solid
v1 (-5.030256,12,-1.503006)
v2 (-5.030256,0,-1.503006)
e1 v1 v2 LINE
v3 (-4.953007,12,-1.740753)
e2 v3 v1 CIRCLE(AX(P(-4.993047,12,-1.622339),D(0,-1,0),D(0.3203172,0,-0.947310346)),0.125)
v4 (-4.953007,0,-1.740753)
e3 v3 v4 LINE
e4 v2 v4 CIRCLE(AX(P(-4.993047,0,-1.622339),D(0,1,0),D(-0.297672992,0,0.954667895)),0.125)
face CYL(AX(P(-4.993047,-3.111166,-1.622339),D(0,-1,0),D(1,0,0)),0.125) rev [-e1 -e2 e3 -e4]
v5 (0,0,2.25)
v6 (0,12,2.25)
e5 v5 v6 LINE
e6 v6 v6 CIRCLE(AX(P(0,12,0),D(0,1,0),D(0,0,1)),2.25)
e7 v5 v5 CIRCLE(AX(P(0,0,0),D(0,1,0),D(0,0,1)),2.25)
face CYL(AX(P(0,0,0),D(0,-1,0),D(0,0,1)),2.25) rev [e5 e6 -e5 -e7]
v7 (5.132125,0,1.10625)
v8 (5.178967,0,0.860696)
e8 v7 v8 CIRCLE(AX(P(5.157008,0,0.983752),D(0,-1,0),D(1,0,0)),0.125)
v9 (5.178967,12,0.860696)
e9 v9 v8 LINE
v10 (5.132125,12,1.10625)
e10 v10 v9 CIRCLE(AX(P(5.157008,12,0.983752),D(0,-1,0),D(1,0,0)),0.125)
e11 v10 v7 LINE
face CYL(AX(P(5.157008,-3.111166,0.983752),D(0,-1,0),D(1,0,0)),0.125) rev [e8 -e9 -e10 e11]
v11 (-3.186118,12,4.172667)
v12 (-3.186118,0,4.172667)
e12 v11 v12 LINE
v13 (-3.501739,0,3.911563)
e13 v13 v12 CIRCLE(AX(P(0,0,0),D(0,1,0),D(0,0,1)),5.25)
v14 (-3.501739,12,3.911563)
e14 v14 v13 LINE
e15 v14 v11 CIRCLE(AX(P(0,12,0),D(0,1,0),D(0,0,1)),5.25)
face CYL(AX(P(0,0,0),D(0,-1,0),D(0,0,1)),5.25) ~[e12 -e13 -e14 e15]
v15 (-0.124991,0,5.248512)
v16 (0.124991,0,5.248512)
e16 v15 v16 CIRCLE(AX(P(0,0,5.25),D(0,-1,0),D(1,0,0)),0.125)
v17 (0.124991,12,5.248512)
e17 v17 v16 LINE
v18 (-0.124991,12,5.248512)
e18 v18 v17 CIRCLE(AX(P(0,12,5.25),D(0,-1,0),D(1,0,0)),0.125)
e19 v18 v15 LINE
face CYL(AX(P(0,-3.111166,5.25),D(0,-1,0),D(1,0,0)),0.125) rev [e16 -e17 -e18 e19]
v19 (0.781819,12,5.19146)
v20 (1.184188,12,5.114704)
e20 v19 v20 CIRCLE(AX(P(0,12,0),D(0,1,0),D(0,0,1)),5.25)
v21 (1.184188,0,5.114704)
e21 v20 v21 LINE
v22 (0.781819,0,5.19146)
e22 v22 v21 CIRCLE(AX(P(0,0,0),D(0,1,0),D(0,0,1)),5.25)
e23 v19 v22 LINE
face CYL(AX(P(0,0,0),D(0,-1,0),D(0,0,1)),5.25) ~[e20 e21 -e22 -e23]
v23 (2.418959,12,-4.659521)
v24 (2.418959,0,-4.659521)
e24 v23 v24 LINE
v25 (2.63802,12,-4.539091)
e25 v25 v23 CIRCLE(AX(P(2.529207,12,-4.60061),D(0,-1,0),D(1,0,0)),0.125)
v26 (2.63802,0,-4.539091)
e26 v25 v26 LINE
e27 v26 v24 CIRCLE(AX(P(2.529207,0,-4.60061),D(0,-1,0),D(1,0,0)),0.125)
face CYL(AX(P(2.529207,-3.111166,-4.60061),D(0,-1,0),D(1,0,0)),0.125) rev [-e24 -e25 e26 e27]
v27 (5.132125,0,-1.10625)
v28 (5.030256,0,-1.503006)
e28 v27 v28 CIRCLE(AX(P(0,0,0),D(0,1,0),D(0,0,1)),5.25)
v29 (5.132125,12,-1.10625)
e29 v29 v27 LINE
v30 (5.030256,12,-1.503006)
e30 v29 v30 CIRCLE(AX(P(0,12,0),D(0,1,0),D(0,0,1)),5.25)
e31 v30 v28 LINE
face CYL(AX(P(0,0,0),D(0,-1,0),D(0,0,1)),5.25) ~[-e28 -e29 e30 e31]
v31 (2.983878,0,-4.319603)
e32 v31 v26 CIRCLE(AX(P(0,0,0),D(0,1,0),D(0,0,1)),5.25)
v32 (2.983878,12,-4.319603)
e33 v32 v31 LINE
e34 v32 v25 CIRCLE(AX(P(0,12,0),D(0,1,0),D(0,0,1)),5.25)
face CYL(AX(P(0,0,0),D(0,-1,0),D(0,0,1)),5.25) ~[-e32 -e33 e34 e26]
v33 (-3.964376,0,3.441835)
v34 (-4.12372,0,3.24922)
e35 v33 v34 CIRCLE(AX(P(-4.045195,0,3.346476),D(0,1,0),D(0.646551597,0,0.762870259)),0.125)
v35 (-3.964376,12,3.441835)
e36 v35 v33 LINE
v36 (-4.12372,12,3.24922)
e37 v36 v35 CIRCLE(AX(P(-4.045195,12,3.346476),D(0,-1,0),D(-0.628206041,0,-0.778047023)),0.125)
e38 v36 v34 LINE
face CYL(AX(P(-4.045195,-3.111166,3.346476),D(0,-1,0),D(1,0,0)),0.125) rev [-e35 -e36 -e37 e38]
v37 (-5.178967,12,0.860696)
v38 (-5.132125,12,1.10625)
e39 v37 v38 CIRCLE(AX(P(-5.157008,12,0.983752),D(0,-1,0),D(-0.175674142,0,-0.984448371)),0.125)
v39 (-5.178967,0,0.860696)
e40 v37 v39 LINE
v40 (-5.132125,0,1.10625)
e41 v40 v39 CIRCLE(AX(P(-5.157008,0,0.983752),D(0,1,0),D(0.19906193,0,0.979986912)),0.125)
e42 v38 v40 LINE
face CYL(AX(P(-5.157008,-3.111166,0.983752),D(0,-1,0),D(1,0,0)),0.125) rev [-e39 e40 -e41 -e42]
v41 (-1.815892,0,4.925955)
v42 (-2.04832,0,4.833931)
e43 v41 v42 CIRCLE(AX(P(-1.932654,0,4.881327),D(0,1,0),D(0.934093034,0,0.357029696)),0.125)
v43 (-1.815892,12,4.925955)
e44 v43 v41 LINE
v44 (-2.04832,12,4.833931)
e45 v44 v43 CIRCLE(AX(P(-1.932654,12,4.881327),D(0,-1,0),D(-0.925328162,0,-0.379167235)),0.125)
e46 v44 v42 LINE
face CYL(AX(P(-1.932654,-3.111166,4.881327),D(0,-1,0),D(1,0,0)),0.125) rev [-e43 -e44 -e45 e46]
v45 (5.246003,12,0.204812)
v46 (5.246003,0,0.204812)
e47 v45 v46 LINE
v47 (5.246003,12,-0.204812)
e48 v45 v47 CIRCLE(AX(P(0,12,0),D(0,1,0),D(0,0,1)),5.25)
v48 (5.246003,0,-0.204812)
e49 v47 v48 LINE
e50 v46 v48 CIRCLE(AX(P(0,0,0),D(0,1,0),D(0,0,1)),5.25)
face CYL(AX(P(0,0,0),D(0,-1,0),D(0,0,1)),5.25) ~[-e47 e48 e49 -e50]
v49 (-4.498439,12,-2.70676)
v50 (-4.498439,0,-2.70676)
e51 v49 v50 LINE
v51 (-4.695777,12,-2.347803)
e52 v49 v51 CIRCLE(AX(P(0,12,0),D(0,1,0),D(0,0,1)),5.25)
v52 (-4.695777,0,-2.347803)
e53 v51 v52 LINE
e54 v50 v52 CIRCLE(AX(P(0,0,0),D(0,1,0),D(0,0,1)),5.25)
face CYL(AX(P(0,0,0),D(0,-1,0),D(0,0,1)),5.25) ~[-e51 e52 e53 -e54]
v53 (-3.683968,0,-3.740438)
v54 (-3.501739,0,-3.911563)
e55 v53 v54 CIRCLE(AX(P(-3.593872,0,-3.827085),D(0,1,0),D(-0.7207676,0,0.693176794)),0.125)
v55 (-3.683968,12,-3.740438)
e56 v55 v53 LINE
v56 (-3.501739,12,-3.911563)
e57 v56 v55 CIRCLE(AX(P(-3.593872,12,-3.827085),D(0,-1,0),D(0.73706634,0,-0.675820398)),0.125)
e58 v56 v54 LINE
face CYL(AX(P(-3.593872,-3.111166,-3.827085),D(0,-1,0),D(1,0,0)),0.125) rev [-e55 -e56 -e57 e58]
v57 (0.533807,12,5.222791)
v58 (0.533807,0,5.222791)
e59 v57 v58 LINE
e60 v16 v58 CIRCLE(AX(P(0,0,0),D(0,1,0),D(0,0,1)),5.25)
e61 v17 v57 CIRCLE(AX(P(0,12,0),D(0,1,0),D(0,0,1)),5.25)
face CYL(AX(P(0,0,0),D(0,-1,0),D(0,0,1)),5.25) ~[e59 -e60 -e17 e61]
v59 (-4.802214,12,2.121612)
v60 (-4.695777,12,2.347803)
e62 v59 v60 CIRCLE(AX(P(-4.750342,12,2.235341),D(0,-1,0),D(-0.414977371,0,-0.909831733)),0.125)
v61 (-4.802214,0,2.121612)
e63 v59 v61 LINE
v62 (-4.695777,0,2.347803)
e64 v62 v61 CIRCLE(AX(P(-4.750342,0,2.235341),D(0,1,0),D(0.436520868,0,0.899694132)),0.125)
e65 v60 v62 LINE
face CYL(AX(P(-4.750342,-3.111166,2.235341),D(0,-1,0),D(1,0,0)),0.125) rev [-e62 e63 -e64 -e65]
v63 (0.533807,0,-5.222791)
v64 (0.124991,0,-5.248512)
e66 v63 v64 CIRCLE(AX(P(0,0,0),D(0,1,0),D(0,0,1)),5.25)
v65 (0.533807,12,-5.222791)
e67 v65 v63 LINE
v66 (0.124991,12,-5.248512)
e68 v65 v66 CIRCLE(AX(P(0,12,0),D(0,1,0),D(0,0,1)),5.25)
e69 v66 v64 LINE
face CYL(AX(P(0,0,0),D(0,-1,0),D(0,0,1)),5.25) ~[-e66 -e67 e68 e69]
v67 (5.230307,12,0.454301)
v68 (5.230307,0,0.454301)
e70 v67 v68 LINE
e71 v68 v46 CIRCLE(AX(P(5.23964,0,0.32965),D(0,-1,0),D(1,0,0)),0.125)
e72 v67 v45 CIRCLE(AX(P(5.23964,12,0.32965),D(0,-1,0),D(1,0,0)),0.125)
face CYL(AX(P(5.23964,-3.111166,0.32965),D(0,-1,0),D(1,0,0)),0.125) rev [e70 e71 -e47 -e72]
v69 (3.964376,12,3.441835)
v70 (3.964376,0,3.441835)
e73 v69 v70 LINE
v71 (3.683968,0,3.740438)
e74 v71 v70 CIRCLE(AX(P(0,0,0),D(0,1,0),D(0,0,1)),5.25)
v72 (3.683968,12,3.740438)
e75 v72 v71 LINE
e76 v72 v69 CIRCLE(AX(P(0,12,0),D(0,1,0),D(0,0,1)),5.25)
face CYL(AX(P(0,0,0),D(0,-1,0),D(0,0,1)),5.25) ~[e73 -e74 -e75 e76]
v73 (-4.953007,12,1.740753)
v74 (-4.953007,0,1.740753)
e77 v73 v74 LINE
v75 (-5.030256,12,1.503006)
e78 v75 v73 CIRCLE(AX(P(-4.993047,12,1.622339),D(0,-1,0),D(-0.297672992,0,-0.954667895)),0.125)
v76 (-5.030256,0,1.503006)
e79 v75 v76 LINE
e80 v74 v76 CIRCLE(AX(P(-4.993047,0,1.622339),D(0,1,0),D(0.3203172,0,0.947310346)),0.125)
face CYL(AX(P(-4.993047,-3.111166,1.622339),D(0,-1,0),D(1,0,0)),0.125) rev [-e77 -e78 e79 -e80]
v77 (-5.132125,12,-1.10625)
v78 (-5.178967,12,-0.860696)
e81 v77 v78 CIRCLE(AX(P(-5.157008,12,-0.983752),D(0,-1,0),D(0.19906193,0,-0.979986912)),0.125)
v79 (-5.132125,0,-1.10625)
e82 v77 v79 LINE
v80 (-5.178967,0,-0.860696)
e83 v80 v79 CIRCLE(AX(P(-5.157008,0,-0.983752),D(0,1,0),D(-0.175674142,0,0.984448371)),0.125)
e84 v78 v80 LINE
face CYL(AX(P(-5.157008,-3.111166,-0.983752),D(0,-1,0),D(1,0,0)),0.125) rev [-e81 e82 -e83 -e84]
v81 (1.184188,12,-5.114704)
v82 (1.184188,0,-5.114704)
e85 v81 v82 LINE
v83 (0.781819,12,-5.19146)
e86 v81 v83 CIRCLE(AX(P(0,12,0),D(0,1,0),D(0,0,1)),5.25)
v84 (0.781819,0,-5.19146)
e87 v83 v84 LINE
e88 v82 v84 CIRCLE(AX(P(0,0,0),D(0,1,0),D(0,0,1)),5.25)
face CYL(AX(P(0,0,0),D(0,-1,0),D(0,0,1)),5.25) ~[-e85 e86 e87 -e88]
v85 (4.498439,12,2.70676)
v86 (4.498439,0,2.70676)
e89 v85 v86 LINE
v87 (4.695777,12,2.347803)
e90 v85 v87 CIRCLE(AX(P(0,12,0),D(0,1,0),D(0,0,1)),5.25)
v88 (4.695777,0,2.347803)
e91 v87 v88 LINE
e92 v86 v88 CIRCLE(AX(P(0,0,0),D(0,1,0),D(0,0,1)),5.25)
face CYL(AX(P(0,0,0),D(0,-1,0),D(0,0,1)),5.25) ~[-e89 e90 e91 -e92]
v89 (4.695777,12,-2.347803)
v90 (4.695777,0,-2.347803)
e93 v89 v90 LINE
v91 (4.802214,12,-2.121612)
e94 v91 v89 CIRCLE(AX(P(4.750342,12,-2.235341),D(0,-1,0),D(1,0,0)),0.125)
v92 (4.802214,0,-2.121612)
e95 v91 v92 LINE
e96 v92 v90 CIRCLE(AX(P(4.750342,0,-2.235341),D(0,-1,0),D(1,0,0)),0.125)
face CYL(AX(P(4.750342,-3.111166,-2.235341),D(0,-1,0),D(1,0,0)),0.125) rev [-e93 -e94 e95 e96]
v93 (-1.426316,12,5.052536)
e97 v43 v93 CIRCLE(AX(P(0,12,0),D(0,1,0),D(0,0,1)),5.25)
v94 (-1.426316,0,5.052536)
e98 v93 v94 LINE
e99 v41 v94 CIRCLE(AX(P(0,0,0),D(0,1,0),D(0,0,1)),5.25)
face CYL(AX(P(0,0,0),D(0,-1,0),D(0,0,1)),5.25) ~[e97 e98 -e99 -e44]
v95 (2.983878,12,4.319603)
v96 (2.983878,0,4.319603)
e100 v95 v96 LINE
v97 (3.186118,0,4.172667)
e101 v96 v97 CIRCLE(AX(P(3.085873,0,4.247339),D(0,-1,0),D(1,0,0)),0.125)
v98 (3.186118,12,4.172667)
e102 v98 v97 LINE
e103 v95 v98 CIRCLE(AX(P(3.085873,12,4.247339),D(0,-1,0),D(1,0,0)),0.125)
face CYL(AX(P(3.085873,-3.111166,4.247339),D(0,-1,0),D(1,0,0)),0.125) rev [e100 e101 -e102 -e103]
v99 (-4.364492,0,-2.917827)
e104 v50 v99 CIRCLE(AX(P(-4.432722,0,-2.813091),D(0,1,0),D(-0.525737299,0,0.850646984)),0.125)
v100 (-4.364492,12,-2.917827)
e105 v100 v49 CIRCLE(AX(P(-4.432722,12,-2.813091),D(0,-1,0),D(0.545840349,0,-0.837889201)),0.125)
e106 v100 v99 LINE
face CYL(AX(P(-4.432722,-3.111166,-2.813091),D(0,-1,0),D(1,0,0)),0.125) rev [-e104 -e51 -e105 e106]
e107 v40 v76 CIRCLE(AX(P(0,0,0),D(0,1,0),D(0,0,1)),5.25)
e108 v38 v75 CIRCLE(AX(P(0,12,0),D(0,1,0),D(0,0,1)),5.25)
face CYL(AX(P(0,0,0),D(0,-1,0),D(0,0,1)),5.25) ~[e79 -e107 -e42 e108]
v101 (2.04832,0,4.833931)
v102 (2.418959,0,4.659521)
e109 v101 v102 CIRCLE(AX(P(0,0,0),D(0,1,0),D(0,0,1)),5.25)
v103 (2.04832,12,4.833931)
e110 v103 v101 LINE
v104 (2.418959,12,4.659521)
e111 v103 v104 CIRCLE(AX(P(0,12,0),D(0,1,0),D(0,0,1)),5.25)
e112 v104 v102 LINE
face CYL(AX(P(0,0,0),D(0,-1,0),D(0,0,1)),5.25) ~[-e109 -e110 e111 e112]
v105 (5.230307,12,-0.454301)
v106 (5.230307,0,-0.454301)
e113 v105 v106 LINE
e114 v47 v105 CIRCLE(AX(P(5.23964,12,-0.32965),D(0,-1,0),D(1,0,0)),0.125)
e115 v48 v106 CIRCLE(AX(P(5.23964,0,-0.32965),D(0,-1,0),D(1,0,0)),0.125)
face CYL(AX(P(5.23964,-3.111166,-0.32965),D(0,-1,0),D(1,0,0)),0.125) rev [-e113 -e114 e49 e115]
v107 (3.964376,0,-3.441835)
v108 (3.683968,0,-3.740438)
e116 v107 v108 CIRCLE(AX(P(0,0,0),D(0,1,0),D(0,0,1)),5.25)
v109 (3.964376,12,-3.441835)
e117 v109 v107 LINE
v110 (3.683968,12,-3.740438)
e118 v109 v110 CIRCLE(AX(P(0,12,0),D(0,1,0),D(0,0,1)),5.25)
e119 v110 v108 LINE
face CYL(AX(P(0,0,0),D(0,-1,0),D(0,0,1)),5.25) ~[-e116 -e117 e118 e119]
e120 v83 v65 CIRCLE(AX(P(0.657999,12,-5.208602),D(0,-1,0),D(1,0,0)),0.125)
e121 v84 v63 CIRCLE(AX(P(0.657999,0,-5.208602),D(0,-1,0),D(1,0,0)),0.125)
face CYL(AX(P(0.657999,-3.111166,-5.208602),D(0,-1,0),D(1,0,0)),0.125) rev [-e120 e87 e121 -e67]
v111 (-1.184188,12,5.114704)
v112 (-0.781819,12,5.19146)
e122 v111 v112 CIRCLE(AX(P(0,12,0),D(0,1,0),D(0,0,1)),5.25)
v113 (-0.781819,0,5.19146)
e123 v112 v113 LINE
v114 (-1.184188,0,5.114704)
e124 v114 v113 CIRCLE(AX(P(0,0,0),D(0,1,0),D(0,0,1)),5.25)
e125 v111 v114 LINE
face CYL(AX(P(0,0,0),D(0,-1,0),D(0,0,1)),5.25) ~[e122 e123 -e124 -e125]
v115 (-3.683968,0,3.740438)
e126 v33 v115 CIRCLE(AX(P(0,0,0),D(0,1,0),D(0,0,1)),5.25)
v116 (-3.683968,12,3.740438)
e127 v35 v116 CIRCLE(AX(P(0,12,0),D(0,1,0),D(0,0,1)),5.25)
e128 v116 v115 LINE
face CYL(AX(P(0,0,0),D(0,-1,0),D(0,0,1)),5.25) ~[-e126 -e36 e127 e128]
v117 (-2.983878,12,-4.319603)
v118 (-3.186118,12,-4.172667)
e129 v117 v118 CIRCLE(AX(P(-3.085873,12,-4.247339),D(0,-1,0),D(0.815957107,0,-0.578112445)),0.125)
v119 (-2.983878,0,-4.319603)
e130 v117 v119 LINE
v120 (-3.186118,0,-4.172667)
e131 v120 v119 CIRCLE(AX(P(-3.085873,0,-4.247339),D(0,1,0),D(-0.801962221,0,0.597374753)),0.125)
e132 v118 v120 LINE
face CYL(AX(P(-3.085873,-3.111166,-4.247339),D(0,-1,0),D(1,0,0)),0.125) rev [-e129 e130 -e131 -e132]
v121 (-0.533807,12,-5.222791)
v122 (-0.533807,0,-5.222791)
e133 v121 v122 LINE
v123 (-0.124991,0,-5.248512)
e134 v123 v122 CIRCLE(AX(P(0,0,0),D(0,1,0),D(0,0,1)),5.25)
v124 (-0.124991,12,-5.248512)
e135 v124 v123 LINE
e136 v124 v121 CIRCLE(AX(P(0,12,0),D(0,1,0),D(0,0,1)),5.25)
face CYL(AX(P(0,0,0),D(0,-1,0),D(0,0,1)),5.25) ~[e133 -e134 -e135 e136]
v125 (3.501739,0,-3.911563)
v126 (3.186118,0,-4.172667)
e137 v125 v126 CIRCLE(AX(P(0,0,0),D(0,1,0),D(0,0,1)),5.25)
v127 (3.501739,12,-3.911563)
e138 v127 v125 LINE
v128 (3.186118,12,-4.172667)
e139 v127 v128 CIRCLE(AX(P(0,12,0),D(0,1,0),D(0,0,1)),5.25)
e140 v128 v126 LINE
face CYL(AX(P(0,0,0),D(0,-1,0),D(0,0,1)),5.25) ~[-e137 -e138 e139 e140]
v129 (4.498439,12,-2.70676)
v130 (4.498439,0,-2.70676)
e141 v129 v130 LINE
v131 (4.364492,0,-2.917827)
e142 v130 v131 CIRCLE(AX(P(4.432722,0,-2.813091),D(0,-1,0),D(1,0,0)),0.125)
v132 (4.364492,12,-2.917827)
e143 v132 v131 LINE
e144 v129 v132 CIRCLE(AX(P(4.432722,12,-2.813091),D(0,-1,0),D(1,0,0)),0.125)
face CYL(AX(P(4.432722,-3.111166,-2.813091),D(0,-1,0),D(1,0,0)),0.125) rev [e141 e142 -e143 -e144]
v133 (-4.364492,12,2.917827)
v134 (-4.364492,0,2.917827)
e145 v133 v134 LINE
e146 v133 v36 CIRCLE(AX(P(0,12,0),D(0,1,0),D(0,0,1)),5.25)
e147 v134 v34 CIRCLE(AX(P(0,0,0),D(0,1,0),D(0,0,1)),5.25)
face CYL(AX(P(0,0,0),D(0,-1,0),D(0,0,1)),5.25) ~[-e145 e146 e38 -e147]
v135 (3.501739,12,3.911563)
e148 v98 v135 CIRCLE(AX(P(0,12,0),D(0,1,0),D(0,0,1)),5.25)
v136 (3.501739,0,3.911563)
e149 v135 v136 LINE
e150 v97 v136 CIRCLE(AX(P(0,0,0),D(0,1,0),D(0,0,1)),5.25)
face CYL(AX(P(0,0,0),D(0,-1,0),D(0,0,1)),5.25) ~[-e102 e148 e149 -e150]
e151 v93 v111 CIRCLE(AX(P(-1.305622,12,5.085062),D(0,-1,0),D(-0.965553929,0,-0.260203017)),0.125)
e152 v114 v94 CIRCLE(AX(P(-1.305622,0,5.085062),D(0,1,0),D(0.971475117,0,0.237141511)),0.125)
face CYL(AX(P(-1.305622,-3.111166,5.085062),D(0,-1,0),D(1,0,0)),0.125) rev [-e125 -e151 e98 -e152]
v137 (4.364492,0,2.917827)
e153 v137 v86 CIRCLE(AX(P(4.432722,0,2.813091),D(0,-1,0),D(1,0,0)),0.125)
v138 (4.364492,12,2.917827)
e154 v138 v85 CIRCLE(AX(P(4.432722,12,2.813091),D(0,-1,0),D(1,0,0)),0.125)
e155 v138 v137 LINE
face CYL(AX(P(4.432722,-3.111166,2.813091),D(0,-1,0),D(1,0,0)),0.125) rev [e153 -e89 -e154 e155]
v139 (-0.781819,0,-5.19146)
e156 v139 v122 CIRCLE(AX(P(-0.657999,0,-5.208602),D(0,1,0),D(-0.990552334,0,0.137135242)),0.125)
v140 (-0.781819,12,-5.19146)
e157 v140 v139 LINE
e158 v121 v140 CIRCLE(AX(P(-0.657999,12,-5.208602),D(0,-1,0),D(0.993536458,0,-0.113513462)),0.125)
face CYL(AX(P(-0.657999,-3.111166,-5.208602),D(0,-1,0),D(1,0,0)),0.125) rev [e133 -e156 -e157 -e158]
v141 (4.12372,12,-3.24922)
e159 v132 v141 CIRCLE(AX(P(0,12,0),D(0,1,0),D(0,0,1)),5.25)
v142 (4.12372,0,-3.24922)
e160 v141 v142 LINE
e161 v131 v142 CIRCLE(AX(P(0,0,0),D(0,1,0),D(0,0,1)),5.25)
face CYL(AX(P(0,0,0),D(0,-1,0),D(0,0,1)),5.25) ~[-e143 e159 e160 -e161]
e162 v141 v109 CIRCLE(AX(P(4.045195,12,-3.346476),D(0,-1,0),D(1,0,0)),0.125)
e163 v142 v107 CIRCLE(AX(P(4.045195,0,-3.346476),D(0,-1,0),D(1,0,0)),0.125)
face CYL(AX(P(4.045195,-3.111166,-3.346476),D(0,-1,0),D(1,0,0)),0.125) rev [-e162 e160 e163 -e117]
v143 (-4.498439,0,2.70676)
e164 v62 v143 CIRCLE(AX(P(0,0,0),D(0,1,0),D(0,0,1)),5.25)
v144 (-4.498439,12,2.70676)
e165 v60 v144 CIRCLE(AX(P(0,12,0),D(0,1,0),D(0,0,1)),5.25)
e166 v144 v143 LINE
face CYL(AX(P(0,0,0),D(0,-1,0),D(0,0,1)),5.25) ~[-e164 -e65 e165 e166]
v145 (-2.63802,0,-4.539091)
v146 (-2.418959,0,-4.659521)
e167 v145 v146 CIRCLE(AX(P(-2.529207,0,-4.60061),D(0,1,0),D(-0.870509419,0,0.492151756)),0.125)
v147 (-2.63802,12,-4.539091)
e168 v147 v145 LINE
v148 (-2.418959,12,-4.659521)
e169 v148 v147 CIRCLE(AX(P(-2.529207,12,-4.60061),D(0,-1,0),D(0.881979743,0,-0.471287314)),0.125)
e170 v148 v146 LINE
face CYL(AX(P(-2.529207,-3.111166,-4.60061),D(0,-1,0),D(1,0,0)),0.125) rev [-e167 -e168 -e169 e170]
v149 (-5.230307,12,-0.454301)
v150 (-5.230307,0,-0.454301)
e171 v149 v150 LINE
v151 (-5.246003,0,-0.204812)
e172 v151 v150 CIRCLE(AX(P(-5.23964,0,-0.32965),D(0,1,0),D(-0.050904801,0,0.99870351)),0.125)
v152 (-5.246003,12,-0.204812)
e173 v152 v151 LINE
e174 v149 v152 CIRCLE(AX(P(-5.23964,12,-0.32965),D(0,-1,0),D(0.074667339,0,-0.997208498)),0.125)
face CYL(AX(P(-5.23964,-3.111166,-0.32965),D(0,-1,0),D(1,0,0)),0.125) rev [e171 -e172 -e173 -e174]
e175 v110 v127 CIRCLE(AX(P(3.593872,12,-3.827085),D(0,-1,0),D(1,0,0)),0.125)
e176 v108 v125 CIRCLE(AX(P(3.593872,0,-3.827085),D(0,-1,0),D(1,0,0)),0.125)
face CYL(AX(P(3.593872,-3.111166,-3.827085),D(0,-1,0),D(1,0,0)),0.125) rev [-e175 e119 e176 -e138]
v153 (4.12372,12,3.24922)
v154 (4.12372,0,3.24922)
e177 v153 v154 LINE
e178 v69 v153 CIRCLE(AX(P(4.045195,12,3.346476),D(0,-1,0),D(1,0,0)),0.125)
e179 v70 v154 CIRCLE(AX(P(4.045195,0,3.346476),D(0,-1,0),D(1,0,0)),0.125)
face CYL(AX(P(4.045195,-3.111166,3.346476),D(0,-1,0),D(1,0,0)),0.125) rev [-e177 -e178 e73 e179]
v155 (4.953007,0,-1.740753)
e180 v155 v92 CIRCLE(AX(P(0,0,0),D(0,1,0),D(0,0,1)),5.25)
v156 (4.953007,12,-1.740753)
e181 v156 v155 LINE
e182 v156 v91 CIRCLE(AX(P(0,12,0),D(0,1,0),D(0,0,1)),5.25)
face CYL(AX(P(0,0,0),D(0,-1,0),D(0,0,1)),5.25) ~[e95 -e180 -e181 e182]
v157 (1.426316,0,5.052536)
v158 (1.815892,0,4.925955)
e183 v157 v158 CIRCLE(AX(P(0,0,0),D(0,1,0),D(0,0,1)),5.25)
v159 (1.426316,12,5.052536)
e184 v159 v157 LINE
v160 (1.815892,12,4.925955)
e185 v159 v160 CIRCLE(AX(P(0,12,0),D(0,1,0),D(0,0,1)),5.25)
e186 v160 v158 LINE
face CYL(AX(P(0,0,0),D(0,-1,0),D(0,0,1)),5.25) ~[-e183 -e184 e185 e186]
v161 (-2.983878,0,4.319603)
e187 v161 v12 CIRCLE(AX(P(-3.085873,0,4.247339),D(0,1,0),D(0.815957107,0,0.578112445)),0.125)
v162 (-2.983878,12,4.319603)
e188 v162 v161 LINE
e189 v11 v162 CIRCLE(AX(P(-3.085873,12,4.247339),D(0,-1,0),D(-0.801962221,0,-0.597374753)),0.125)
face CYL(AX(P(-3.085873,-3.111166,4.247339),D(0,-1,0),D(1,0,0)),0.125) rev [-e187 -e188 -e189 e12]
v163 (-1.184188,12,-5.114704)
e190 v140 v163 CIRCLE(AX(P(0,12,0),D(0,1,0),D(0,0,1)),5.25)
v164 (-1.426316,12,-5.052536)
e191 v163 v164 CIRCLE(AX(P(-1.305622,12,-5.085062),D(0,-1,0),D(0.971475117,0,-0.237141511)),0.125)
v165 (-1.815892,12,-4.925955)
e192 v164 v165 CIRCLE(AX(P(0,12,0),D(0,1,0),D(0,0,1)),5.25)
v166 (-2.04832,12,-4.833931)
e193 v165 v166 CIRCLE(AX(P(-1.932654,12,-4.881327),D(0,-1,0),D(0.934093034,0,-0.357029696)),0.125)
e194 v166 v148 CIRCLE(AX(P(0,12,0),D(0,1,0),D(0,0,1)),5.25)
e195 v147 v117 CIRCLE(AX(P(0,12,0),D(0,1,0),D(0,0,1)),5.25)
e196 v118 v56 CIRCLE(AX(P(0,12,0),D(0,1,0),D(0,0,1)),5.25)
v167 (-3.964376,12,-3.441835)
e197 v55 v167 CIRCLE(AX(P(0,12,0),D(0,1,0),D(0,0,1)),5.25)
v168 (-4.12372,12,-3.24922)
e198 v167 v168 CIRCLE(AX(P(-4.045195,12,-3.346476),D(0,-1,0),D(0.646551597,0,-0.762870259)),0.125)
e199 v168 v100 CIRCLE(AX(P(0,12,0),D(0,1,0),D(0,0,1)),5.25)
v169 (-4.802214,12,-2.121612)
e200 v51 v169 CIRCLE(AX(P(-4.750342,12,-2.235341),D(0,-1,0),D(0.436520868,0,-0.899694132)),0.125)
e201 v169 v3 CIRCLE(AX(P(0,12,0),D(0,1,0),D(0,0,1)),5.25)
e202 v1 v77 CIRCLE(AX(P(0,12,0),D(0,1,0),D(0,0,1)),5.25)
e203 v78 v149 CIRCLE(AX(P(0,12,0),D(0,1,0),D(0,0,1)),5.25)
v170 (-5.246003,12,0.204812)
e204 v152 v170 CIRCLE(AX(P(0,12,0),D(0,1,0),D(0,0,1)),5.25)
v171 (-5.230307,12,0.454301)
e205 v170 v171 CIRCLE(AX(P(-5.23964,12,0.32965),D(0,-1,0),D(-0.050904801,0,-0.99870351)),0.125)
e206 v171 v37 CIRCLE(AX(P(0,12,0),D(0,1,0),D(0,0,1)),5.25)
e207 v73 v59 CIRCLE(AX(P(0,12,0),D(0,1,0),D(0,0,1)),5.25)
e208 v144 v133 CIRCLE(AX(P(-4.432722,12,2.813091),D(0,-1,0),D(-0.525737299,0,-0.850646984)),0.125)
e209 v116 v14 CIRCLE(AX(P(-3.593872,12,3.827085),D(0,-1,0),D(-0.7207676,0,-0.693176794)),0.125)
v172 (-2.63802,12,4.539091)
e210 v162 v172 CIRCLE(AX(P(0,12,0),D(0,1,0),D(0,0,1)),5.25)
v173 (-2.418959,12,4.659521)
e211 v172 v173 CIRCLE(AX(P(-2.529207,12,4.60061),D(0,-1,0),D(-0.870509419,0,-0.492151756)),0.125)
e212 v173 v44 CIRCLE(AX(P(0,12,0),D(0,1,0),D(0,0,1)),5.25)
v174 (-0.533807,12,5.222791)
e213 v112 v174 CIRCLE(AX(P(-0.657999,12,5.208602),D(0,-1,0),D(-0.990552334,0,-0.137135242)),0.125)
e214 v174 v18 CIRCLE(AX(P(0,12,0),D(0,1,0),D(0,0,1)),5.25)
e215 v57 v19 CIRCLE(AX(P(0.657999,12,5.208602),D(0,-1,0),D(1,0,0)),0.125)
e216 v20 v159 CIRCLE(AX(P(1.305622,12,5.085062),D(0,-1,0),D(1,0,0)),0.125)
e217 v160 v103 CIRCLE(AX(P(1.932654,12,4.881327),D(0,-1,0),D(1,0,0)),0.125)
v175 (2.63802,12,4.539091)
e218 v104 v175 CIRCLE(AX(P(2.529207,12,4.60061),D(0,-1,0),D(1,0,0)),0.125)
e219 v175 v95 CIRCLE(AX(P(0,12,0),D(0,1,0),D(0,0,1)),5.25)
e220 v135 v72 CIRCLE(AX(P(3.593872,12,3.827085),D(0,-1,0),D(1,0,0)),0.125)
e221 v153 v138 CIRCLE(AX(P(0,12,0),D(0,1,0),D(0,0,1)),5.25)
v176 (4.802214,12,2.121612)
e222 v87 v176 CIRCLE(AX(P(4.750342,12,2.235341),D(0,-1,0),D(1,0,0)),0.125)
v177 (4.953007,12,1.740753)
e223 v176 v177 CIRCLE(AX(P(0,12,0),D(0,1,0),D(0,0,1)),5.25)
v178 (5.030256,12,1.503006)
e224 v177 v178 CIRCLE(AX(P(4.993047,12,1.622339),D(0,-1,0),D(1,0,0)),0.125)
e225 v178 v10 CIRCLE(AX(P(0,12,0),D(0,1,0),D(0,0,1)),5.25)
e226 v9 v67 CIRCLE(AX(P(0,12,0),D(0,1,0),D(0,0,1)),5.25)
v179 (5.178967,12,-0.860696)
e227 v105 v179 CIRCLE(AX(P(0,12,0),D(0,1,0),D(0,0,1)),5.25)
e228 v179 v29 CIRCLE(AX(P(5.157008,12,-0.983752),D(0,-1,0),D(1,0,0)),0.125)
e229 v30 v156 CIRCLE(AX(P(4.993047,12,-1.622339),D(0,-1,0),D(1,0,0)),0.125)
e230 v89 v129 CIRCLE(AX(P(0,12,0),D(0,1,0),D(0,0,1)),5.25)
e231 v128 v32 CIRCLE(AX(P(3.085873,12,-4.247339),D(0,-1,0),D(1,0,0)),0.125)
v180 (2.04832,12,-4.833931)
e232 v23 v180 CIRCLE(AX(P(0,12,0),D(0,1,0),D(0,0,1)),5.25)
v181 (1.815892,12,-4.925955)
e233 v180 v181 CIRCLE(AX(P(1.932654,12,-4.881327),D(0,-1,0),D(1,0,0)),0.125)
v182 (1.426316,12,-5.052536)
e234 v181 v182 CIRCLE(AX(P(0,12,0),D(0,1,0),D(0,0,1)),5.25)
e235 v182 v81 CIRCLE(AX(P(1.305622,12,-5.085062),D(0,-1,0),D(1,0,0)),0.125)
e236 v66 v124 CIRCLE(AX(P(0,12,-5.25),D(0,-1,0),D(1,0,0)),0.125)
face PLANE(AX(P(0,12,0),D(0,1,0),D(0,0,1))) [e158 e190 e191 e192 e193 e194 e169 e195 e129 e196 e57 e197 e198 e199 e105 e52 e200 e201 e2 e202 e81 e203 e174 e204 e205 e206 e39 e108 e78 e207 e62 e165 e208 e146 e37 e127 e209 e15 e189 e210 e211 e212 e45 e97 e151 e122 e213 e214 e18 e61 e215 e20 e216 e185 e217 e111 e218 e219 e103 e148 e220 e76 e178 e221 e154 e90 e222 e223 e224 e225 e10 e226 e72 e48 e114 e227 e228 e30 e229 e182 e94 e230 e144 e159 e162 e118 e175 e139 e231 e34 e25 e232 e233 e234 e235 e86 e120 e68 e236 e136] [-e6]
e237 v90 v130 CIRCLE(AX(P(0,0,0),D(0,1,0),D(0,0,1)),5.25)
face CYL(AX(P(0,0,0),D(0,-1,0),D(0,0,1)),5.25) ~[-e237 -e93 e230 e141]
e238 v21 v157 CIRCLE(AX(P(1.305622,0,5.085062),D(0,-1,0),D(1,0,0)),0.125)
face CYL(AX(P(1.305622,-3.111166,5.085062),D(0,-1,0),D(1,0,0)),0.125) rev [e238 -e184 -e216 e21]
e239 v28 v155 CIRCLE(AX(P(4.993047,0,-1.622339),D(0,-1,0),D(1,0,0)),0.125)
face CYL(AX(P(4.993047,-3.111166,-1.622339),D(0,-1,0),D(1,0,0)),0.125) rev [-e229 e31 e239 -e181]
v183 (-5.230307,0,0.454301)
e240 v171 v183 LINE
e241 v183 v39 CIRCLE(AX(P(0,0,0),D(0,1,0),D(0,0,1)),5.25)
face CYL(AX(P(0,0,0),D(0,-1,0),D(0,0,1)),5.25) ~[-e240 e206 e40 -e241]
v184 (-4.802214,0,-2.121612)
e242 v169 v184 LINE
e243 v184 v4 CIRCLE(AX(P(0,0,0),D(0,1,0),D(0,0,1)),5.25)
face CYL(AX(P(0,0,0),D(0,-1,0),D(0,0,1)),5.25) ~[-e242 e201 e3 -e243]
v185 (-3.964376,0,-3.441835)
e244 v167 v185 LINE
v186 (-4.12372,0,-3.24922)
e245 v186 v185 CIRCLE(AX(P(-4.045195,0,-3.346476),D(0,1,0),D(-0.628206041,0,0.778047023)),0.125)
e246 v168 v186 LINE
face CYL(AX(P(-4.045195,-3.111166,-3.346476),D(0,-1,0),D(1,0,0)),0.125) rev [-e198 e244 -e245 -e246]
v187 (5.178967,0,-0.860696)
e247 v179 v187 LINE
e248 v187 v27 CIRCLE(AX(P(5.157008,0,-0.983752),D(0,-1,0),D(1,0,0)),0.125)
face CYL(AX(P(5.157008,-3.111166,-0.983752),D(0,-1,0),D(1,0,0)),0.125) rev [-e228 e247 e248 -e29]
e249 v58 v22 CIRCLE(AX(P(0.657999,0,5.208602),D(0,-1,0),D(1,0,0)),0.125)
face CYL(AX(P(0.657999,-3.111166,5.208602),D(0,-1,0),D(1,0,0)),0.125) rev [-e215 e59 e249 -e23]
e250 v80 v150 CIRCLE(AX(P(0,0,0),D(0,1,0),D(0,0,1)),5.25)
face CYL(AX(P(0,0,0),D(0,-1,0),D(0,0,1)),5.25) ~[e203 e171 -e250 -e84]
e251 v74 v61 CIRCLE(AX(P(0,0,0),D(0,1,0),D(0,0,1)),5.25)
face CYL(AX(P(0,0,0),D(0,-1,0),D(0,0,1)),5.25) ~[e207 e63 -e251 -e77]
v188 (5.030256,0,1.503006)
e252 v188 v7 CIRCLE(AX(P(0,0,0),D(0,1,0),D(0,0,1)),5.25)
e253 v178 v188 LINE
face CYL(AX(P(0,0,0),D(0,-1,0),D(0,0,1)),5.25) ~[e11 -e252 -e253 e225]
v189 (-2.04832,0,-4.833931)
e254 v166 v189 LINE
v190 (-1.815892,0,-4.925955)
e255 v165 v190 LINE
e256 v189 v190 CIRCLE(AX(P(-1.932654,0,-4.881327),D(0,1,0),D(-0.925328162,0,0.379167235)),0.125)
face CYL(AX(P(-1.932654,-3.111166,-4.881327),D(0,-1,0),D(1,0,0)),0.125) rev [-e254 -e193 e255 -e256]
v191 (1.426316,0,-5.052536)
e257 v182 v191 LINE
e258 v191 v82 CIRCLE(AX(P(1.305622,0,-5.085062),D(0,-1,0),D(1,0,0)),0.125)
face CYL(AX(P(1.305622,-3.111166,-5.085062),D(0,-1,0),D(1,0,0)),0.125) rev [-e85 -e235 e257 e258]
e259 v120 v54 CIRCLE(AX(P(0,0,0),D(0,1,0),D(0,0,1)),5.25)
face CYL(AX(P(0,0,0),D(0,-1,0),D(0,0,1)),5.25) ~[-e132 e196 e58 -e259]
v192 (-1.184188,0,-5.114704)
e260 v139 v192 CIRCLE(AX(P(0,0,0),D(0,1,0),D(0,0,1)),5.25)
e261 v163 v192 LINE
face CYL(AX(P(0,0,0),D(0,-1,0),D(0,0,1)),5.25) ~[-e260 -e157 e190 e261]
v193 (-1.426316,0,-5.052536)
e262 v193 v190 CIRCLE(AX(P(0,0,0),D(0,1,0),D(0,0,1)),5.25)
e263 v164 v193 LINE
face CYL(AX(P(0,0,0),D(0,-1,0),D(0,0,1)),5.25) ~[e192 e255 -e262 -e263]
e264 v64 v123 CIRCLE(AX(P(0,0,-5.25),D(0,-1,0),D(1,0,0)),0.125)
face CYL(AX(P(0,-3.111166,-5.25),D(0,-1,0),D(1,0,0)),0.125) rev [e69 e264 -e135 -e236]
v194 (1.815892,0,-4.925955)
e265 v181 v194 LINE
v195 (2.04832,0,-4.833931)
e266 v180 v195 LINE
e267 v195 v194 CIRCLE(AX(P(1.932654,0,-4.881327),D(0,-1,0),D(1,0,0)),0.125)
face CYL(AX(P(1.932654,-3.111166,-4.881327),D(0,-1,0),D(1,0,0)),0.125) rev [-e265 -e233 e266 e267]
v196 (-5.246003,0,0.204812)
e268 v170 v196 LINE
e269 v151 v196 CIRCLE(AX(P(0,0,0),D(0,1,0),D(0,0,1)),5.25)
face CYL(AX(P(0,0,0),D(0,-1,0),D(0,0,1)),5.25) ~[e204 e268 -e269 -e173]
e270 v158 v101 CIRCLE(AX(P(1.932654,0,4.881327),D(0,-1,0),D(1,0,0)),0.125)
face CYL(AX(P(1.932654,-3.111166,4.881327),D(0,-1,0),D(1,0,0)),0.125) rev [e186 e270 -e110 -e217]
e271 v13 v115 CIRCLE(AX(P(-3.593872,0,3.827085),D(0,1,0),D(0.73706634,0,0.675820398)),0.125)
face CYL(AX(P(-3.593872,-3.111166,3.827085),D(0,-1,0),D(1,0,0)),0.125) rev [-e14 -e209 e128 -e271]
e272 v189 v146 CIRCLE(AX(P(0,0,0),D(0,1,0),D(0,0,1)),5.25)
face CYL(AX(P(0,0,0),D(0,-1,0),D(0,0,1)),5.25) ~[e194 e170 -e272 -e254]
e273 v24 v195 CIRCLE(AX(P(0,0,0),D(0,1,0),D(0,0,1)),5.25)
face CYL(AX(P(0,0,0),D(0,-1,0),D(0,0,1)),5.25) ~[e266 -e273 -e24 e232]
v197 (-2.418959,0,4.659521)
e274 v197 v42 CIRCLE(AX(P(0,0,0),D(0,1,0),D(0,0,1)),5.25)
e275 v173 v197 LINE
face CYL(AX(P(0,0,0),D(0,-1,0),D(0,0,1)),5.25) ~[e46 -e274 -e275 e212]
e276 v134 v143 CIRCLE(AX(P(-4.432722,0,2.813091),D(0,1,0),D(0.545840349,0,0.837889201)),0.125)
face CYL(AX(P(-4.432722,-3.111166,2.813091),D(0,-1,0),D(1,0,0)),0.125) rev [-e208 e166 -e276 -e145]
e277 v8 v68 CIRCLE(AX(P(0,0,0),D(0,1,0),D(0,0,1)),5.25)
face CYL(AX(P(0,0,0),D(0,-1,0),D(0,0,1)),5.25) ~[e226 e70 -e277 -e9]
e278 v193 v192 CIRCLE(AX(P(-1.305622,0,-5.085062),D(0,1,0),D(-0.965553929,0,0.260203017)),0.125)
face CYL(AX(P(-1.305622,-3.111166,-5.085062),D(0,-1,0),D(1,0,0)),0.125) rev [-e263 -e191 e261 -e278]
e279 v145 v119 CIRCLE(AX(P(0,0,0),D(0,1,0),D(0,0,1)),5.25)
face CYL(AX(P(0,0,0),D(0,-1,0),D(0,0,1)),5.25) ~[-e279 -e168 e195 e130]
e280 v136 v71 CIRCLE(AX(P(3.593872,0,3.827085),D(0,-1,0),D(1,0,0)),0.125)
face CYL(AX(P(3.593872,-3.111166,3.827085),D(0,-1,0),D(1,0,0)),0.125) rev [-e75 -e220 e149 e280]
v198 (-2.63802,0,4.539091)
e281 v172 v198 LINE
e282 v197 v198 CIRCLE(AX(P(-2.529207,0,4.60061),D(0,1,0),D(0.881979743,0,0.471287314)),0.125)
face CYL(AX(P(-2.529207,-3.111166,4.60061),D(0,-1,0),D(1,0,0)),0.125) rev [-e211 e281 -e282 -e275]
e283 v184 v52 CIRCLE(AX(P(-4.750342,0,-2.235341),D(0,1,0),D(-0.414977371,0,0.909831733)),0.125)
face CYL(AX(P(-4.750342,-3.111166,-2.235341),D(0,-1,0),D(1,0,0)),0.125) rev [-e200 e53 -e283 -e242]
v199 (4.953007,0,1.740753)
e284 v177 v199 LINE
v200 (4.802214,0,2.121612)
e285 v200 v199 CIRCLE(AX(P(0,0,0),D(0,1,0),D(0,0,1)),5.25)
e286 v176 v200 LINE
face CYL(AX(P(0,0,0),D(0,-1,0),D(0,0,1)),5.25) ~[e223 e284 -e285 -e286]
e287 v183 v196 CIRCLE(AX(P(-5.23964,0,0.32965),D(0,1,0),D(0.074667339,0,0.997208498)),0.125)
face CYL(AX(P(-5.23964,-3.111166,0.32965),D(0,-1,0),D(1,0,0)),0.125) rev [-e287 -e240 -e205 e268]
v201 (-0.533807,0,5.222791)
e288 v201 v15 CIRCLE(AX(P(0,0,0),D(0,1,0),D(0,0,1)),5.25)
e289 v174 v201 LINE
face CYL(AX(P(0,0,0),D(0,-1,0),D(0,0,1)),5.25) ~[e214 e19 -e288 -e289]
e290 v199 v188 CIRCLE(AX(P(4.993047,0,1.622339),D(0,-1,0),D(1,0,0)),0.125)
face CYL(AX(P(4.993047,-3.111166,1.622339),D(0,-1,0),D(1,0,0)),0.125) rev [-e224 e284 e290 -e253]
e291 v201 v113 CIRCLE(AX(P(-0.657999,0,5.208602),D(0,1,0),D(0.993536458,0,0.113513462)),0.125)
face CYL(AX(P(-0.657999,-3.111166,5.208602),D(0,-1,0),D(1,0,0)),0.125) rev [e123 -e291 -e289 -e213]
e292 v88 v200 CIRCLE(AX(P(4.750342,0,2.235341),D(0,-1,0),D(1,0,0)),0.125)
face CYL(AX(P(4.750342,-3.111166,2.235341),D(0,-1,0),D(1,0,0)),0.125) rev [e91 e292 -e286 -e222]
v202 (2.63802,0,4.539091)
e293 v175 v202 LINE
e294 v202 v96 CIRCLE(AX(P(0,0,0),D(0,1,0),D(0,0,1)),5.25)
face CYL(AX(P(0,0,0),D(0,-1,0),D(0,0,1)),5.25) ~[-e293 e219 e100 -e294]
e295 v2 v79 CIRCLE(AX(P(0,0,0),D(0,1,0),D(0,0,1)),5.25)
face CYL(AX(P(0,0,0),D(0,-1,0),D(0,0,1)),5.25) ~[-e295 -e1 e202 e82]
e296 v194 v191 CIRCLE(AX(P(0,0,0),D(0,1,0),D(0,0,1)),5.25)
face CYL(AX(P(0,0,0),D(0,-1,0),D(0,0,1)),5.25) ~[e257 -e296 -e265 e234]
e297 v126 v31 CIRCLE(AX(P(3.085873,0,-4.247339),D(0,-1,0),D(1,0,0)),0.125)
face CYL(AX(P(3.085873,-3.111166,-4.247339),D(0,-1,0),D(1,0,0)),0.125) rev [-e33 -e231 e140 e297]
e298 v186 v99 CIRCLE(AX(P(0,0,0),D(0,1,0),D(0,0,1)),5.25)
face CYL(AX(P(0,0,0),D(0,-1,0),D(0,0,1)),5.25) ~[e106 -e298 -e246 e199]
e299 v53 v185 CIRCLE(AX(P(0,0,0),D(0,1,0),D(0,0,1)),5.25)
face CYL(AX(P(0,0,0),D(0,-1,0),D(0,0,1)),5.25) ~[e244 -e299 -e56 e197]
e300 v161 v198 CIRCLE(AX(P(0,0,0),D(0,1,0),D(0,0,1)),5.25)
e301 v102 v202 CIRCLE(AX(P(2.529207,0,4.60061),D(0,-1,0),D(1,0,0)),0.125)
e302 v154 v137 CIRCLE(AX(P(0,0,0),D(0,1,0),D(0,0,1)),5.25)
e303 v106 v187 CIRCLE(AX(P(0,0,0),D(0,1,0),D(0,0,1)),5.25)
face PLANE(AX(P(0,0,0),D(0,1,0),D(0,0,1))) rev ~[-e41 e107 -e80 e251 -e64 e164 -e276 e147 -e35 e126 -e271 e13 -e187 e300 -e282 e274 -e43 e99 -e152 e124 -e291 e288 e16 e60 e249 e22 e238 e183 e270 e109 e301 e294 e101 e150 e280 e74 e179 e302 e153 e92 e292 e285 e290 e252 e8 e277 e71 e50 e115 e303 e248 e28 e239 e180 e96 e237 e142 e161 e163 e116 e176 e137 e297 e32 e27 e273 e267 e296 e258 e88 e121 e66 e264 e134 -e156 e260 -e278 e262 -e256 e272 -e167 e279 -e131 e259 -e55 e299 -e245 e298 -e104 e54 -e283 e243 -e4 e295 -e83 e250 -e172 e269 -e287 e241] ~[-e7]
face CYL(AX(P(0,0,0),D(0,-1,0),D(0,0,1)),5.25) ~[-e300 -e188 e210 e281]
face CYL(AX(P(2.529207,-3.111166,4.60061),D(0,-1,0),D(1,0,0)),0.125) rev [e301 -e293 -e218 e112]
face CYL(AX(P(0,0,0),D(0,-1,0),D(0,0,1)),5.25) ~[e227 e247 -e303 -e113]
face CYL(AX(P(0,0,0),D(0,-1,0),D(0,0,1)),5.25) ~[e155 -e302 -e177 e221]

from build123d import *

# Parameters (mm, degrees)
SKETCH1_R       = 5.25
SKETCH1_R_2     = 2.25
MAIN_BODY_DEPTH = 12
CUT_DEPTH       = 15.111165792
CUT_DEPTH_BACK  = 15.111165792
SKETCH3_R       = 0.125


with BuildPart() as part:
    # Sketch1 → Main Body (new body)
    with BuildSketch(Plane(origin=(0, 0, 0), x_dir=(1, 0, 0), z_dir=(0, 1, 0))):
        with Locations(Location((0, 0, 0), (0, 0, 270))):
            Circle(SKETCH1_R)
        with Locations(Location((0, 0, 0), (0, 0, 270))):
            Circle(SKETCH1_R_2, mode=Mode.SUBTRACT)
    extrude(amount=MAIN_BODY_DEPTH)

    # Sketch3 → Cut (cut, two sides: drawn at the far end of the back side and taken through both)
    with BuildSketch(Plane(origin=(0, 12, 0), x_dir=(1, 0, 0), z_dir=(0, 1, 0)).offset(-CUT_DEPTH_BACK)):
        with Locations((0, 5.25)):
            Circle(SKETCH3_R)
        with Locations((0.657999476, 5.208602182)):
            Circle(SKETCH3_R)
        with Locations((1.305621908, 5.085061596)):
            Circle(SKETCH3_R)
        with Locations((1.932653902, 4.881326551)):
            Circle(SKETCH3_R)
        with Locations((2.529206789, 4.60061007)):
            Circle(SKETCH3_R)
        with Locations((3.085872575, 4.24733922)):
            Circle(SKETCH3_R)
        with Locations((3.593872306, 3.827085294)):
            Circle(SKETCH3_R)
        with Locations((4.045194525, 3.346475946)):
            Circle(SKETCH3_R)
        with Locations((4.432721609, 2.813090674)):
            Circle(SKETCH3_R)
        with Locations((4.750342025, 2.235341281)):
            Circle(SKETCH3_R)
        with Locations((4.993046711, 1.62233922)):
            Circle(SKETCH3_R)
        with Locations((5.157008066, 0.983751902)):
            Circle(SKETCH3_R)
        with Locations((5.239640324, 0.329650228)):
            Circle(SKETCH3_R)
        with Locations((5.239640324, -0.329650228)):
            Circle(SKETCH3_R)
        with Locations((5.157008066, -0.983751902)):
            Circle(SKETCH3_R)
        with Locations((4.993046711, -1.62233922)):
            Circle(SKETCH3_R)
        with Locations((4.750342025, -2.235341281)):
            Circle(SKETCH3_R)
        with Locations((4.432721609, -2.813090674)):
            Circle(SKETCH3_R)
        with Locations((4.045194525, -3.346475946)):
            Circle(SKETCH3_R)
        with Locations((3.593872306, -3.827085294)):
            Circle(SKETCH3_R)
        with Locations((3.085872575, -4.24733922)):
            Circle(SKETCH3_R)
        with Locations((2.529206789, -4.60061007)):
            Circle(SKETCH3_R)
        with Locations((1.932653902, -4.881326551)):
            Circle(SKETCH3_R)
        with Locations((1.305621908, -5.085061596)):
            Circle(SKETCH3_R)
        with Locations((0.657999476, -5.208602182)):
            Circle(SKETCH3_R)
        with Locations((0, -5.25)):
            Circle(SKETCH3_R)
        with Locations((-0.657999476, -5.208602182)):
            Circle(SKETCH3_R)
        with Locations((-1.305621908, -5.085061596)):
            Circle(SKETCH3_R)
        with Locations((-1.932653902, -4.881326551)):
            Circle(SKETCH3_R)
        with Locations((-2.529206789, -4.60061007)):
            Circle(SKETCH3_R)
        with Locations((-3.085872575, -4.24733922)):
            Circle(SKETCH3_R)
        with Locations((-3.593872306, -3.827085294)):
            Circle(SKETCH3_R)
        with Locations((-4.045194525, -3.346475946)):
            Circle(SKETCH3_R)
        with Locations((-4.432721609, -2.813090674)):
            Circle(SKETCH3_R)
        with Locations((-4.750342025, -2.235341281)):
            Circle(SKETCH3_R)
        with Locations((-4.993046711, -1.62233922)):
            Circle(SKETCH3_R)
        with Locations((-5.157008066, -0.983751902)):
            Circle(SKETCH3_R)
        with Locations((-5.239640324, -0.329650228)):
            Circle(SKETCH3_R)
        with Locations((-5.239640324, 0.329650228)):
            Circle(SKETCH3_R)
        with Locations((-5.157008066, 0.983751902)):
            Circle(SKETCH3_R)
        with Locations((-4.993046711, 1.62233922)):
            Circle(SKETCH3_R)
        with Locations((-4.750342025, 2.235341281)):
            Circle(SKETCH3_R)
        with Locations((-4.432721609, 2.813090674)):
            Circle(SKETCH3_R)
        with Locations((-4.045194525, 3.346475946)):
            Circle(SKETCH3_R)
        with Locations((-3.593872306, 3.827085294)):
            Circle(SKETCH3_R)
        with Locations((-3.085872575, 4.24733922)):
            Circle(SKETCH3_R)
        with Locations((-2.529206789, 4.60061007)):
            Circle(SKETCH3_R)
        with Locations((-1.932653902, 4.881326551)):
            Circle(SKETCH3_R)
        with Locations((-1.305621908, 5.085061596)):
            Circle(SKETCH3_R)
        with Locations((-0.657999476, 5.208602182)):
            Circle(SKETCH3_R)
    extrude(amount=CUT_DEPTH + CUT_DEPTH_BACK, mode=Mode.SUBTRACT)


solid = part.part
